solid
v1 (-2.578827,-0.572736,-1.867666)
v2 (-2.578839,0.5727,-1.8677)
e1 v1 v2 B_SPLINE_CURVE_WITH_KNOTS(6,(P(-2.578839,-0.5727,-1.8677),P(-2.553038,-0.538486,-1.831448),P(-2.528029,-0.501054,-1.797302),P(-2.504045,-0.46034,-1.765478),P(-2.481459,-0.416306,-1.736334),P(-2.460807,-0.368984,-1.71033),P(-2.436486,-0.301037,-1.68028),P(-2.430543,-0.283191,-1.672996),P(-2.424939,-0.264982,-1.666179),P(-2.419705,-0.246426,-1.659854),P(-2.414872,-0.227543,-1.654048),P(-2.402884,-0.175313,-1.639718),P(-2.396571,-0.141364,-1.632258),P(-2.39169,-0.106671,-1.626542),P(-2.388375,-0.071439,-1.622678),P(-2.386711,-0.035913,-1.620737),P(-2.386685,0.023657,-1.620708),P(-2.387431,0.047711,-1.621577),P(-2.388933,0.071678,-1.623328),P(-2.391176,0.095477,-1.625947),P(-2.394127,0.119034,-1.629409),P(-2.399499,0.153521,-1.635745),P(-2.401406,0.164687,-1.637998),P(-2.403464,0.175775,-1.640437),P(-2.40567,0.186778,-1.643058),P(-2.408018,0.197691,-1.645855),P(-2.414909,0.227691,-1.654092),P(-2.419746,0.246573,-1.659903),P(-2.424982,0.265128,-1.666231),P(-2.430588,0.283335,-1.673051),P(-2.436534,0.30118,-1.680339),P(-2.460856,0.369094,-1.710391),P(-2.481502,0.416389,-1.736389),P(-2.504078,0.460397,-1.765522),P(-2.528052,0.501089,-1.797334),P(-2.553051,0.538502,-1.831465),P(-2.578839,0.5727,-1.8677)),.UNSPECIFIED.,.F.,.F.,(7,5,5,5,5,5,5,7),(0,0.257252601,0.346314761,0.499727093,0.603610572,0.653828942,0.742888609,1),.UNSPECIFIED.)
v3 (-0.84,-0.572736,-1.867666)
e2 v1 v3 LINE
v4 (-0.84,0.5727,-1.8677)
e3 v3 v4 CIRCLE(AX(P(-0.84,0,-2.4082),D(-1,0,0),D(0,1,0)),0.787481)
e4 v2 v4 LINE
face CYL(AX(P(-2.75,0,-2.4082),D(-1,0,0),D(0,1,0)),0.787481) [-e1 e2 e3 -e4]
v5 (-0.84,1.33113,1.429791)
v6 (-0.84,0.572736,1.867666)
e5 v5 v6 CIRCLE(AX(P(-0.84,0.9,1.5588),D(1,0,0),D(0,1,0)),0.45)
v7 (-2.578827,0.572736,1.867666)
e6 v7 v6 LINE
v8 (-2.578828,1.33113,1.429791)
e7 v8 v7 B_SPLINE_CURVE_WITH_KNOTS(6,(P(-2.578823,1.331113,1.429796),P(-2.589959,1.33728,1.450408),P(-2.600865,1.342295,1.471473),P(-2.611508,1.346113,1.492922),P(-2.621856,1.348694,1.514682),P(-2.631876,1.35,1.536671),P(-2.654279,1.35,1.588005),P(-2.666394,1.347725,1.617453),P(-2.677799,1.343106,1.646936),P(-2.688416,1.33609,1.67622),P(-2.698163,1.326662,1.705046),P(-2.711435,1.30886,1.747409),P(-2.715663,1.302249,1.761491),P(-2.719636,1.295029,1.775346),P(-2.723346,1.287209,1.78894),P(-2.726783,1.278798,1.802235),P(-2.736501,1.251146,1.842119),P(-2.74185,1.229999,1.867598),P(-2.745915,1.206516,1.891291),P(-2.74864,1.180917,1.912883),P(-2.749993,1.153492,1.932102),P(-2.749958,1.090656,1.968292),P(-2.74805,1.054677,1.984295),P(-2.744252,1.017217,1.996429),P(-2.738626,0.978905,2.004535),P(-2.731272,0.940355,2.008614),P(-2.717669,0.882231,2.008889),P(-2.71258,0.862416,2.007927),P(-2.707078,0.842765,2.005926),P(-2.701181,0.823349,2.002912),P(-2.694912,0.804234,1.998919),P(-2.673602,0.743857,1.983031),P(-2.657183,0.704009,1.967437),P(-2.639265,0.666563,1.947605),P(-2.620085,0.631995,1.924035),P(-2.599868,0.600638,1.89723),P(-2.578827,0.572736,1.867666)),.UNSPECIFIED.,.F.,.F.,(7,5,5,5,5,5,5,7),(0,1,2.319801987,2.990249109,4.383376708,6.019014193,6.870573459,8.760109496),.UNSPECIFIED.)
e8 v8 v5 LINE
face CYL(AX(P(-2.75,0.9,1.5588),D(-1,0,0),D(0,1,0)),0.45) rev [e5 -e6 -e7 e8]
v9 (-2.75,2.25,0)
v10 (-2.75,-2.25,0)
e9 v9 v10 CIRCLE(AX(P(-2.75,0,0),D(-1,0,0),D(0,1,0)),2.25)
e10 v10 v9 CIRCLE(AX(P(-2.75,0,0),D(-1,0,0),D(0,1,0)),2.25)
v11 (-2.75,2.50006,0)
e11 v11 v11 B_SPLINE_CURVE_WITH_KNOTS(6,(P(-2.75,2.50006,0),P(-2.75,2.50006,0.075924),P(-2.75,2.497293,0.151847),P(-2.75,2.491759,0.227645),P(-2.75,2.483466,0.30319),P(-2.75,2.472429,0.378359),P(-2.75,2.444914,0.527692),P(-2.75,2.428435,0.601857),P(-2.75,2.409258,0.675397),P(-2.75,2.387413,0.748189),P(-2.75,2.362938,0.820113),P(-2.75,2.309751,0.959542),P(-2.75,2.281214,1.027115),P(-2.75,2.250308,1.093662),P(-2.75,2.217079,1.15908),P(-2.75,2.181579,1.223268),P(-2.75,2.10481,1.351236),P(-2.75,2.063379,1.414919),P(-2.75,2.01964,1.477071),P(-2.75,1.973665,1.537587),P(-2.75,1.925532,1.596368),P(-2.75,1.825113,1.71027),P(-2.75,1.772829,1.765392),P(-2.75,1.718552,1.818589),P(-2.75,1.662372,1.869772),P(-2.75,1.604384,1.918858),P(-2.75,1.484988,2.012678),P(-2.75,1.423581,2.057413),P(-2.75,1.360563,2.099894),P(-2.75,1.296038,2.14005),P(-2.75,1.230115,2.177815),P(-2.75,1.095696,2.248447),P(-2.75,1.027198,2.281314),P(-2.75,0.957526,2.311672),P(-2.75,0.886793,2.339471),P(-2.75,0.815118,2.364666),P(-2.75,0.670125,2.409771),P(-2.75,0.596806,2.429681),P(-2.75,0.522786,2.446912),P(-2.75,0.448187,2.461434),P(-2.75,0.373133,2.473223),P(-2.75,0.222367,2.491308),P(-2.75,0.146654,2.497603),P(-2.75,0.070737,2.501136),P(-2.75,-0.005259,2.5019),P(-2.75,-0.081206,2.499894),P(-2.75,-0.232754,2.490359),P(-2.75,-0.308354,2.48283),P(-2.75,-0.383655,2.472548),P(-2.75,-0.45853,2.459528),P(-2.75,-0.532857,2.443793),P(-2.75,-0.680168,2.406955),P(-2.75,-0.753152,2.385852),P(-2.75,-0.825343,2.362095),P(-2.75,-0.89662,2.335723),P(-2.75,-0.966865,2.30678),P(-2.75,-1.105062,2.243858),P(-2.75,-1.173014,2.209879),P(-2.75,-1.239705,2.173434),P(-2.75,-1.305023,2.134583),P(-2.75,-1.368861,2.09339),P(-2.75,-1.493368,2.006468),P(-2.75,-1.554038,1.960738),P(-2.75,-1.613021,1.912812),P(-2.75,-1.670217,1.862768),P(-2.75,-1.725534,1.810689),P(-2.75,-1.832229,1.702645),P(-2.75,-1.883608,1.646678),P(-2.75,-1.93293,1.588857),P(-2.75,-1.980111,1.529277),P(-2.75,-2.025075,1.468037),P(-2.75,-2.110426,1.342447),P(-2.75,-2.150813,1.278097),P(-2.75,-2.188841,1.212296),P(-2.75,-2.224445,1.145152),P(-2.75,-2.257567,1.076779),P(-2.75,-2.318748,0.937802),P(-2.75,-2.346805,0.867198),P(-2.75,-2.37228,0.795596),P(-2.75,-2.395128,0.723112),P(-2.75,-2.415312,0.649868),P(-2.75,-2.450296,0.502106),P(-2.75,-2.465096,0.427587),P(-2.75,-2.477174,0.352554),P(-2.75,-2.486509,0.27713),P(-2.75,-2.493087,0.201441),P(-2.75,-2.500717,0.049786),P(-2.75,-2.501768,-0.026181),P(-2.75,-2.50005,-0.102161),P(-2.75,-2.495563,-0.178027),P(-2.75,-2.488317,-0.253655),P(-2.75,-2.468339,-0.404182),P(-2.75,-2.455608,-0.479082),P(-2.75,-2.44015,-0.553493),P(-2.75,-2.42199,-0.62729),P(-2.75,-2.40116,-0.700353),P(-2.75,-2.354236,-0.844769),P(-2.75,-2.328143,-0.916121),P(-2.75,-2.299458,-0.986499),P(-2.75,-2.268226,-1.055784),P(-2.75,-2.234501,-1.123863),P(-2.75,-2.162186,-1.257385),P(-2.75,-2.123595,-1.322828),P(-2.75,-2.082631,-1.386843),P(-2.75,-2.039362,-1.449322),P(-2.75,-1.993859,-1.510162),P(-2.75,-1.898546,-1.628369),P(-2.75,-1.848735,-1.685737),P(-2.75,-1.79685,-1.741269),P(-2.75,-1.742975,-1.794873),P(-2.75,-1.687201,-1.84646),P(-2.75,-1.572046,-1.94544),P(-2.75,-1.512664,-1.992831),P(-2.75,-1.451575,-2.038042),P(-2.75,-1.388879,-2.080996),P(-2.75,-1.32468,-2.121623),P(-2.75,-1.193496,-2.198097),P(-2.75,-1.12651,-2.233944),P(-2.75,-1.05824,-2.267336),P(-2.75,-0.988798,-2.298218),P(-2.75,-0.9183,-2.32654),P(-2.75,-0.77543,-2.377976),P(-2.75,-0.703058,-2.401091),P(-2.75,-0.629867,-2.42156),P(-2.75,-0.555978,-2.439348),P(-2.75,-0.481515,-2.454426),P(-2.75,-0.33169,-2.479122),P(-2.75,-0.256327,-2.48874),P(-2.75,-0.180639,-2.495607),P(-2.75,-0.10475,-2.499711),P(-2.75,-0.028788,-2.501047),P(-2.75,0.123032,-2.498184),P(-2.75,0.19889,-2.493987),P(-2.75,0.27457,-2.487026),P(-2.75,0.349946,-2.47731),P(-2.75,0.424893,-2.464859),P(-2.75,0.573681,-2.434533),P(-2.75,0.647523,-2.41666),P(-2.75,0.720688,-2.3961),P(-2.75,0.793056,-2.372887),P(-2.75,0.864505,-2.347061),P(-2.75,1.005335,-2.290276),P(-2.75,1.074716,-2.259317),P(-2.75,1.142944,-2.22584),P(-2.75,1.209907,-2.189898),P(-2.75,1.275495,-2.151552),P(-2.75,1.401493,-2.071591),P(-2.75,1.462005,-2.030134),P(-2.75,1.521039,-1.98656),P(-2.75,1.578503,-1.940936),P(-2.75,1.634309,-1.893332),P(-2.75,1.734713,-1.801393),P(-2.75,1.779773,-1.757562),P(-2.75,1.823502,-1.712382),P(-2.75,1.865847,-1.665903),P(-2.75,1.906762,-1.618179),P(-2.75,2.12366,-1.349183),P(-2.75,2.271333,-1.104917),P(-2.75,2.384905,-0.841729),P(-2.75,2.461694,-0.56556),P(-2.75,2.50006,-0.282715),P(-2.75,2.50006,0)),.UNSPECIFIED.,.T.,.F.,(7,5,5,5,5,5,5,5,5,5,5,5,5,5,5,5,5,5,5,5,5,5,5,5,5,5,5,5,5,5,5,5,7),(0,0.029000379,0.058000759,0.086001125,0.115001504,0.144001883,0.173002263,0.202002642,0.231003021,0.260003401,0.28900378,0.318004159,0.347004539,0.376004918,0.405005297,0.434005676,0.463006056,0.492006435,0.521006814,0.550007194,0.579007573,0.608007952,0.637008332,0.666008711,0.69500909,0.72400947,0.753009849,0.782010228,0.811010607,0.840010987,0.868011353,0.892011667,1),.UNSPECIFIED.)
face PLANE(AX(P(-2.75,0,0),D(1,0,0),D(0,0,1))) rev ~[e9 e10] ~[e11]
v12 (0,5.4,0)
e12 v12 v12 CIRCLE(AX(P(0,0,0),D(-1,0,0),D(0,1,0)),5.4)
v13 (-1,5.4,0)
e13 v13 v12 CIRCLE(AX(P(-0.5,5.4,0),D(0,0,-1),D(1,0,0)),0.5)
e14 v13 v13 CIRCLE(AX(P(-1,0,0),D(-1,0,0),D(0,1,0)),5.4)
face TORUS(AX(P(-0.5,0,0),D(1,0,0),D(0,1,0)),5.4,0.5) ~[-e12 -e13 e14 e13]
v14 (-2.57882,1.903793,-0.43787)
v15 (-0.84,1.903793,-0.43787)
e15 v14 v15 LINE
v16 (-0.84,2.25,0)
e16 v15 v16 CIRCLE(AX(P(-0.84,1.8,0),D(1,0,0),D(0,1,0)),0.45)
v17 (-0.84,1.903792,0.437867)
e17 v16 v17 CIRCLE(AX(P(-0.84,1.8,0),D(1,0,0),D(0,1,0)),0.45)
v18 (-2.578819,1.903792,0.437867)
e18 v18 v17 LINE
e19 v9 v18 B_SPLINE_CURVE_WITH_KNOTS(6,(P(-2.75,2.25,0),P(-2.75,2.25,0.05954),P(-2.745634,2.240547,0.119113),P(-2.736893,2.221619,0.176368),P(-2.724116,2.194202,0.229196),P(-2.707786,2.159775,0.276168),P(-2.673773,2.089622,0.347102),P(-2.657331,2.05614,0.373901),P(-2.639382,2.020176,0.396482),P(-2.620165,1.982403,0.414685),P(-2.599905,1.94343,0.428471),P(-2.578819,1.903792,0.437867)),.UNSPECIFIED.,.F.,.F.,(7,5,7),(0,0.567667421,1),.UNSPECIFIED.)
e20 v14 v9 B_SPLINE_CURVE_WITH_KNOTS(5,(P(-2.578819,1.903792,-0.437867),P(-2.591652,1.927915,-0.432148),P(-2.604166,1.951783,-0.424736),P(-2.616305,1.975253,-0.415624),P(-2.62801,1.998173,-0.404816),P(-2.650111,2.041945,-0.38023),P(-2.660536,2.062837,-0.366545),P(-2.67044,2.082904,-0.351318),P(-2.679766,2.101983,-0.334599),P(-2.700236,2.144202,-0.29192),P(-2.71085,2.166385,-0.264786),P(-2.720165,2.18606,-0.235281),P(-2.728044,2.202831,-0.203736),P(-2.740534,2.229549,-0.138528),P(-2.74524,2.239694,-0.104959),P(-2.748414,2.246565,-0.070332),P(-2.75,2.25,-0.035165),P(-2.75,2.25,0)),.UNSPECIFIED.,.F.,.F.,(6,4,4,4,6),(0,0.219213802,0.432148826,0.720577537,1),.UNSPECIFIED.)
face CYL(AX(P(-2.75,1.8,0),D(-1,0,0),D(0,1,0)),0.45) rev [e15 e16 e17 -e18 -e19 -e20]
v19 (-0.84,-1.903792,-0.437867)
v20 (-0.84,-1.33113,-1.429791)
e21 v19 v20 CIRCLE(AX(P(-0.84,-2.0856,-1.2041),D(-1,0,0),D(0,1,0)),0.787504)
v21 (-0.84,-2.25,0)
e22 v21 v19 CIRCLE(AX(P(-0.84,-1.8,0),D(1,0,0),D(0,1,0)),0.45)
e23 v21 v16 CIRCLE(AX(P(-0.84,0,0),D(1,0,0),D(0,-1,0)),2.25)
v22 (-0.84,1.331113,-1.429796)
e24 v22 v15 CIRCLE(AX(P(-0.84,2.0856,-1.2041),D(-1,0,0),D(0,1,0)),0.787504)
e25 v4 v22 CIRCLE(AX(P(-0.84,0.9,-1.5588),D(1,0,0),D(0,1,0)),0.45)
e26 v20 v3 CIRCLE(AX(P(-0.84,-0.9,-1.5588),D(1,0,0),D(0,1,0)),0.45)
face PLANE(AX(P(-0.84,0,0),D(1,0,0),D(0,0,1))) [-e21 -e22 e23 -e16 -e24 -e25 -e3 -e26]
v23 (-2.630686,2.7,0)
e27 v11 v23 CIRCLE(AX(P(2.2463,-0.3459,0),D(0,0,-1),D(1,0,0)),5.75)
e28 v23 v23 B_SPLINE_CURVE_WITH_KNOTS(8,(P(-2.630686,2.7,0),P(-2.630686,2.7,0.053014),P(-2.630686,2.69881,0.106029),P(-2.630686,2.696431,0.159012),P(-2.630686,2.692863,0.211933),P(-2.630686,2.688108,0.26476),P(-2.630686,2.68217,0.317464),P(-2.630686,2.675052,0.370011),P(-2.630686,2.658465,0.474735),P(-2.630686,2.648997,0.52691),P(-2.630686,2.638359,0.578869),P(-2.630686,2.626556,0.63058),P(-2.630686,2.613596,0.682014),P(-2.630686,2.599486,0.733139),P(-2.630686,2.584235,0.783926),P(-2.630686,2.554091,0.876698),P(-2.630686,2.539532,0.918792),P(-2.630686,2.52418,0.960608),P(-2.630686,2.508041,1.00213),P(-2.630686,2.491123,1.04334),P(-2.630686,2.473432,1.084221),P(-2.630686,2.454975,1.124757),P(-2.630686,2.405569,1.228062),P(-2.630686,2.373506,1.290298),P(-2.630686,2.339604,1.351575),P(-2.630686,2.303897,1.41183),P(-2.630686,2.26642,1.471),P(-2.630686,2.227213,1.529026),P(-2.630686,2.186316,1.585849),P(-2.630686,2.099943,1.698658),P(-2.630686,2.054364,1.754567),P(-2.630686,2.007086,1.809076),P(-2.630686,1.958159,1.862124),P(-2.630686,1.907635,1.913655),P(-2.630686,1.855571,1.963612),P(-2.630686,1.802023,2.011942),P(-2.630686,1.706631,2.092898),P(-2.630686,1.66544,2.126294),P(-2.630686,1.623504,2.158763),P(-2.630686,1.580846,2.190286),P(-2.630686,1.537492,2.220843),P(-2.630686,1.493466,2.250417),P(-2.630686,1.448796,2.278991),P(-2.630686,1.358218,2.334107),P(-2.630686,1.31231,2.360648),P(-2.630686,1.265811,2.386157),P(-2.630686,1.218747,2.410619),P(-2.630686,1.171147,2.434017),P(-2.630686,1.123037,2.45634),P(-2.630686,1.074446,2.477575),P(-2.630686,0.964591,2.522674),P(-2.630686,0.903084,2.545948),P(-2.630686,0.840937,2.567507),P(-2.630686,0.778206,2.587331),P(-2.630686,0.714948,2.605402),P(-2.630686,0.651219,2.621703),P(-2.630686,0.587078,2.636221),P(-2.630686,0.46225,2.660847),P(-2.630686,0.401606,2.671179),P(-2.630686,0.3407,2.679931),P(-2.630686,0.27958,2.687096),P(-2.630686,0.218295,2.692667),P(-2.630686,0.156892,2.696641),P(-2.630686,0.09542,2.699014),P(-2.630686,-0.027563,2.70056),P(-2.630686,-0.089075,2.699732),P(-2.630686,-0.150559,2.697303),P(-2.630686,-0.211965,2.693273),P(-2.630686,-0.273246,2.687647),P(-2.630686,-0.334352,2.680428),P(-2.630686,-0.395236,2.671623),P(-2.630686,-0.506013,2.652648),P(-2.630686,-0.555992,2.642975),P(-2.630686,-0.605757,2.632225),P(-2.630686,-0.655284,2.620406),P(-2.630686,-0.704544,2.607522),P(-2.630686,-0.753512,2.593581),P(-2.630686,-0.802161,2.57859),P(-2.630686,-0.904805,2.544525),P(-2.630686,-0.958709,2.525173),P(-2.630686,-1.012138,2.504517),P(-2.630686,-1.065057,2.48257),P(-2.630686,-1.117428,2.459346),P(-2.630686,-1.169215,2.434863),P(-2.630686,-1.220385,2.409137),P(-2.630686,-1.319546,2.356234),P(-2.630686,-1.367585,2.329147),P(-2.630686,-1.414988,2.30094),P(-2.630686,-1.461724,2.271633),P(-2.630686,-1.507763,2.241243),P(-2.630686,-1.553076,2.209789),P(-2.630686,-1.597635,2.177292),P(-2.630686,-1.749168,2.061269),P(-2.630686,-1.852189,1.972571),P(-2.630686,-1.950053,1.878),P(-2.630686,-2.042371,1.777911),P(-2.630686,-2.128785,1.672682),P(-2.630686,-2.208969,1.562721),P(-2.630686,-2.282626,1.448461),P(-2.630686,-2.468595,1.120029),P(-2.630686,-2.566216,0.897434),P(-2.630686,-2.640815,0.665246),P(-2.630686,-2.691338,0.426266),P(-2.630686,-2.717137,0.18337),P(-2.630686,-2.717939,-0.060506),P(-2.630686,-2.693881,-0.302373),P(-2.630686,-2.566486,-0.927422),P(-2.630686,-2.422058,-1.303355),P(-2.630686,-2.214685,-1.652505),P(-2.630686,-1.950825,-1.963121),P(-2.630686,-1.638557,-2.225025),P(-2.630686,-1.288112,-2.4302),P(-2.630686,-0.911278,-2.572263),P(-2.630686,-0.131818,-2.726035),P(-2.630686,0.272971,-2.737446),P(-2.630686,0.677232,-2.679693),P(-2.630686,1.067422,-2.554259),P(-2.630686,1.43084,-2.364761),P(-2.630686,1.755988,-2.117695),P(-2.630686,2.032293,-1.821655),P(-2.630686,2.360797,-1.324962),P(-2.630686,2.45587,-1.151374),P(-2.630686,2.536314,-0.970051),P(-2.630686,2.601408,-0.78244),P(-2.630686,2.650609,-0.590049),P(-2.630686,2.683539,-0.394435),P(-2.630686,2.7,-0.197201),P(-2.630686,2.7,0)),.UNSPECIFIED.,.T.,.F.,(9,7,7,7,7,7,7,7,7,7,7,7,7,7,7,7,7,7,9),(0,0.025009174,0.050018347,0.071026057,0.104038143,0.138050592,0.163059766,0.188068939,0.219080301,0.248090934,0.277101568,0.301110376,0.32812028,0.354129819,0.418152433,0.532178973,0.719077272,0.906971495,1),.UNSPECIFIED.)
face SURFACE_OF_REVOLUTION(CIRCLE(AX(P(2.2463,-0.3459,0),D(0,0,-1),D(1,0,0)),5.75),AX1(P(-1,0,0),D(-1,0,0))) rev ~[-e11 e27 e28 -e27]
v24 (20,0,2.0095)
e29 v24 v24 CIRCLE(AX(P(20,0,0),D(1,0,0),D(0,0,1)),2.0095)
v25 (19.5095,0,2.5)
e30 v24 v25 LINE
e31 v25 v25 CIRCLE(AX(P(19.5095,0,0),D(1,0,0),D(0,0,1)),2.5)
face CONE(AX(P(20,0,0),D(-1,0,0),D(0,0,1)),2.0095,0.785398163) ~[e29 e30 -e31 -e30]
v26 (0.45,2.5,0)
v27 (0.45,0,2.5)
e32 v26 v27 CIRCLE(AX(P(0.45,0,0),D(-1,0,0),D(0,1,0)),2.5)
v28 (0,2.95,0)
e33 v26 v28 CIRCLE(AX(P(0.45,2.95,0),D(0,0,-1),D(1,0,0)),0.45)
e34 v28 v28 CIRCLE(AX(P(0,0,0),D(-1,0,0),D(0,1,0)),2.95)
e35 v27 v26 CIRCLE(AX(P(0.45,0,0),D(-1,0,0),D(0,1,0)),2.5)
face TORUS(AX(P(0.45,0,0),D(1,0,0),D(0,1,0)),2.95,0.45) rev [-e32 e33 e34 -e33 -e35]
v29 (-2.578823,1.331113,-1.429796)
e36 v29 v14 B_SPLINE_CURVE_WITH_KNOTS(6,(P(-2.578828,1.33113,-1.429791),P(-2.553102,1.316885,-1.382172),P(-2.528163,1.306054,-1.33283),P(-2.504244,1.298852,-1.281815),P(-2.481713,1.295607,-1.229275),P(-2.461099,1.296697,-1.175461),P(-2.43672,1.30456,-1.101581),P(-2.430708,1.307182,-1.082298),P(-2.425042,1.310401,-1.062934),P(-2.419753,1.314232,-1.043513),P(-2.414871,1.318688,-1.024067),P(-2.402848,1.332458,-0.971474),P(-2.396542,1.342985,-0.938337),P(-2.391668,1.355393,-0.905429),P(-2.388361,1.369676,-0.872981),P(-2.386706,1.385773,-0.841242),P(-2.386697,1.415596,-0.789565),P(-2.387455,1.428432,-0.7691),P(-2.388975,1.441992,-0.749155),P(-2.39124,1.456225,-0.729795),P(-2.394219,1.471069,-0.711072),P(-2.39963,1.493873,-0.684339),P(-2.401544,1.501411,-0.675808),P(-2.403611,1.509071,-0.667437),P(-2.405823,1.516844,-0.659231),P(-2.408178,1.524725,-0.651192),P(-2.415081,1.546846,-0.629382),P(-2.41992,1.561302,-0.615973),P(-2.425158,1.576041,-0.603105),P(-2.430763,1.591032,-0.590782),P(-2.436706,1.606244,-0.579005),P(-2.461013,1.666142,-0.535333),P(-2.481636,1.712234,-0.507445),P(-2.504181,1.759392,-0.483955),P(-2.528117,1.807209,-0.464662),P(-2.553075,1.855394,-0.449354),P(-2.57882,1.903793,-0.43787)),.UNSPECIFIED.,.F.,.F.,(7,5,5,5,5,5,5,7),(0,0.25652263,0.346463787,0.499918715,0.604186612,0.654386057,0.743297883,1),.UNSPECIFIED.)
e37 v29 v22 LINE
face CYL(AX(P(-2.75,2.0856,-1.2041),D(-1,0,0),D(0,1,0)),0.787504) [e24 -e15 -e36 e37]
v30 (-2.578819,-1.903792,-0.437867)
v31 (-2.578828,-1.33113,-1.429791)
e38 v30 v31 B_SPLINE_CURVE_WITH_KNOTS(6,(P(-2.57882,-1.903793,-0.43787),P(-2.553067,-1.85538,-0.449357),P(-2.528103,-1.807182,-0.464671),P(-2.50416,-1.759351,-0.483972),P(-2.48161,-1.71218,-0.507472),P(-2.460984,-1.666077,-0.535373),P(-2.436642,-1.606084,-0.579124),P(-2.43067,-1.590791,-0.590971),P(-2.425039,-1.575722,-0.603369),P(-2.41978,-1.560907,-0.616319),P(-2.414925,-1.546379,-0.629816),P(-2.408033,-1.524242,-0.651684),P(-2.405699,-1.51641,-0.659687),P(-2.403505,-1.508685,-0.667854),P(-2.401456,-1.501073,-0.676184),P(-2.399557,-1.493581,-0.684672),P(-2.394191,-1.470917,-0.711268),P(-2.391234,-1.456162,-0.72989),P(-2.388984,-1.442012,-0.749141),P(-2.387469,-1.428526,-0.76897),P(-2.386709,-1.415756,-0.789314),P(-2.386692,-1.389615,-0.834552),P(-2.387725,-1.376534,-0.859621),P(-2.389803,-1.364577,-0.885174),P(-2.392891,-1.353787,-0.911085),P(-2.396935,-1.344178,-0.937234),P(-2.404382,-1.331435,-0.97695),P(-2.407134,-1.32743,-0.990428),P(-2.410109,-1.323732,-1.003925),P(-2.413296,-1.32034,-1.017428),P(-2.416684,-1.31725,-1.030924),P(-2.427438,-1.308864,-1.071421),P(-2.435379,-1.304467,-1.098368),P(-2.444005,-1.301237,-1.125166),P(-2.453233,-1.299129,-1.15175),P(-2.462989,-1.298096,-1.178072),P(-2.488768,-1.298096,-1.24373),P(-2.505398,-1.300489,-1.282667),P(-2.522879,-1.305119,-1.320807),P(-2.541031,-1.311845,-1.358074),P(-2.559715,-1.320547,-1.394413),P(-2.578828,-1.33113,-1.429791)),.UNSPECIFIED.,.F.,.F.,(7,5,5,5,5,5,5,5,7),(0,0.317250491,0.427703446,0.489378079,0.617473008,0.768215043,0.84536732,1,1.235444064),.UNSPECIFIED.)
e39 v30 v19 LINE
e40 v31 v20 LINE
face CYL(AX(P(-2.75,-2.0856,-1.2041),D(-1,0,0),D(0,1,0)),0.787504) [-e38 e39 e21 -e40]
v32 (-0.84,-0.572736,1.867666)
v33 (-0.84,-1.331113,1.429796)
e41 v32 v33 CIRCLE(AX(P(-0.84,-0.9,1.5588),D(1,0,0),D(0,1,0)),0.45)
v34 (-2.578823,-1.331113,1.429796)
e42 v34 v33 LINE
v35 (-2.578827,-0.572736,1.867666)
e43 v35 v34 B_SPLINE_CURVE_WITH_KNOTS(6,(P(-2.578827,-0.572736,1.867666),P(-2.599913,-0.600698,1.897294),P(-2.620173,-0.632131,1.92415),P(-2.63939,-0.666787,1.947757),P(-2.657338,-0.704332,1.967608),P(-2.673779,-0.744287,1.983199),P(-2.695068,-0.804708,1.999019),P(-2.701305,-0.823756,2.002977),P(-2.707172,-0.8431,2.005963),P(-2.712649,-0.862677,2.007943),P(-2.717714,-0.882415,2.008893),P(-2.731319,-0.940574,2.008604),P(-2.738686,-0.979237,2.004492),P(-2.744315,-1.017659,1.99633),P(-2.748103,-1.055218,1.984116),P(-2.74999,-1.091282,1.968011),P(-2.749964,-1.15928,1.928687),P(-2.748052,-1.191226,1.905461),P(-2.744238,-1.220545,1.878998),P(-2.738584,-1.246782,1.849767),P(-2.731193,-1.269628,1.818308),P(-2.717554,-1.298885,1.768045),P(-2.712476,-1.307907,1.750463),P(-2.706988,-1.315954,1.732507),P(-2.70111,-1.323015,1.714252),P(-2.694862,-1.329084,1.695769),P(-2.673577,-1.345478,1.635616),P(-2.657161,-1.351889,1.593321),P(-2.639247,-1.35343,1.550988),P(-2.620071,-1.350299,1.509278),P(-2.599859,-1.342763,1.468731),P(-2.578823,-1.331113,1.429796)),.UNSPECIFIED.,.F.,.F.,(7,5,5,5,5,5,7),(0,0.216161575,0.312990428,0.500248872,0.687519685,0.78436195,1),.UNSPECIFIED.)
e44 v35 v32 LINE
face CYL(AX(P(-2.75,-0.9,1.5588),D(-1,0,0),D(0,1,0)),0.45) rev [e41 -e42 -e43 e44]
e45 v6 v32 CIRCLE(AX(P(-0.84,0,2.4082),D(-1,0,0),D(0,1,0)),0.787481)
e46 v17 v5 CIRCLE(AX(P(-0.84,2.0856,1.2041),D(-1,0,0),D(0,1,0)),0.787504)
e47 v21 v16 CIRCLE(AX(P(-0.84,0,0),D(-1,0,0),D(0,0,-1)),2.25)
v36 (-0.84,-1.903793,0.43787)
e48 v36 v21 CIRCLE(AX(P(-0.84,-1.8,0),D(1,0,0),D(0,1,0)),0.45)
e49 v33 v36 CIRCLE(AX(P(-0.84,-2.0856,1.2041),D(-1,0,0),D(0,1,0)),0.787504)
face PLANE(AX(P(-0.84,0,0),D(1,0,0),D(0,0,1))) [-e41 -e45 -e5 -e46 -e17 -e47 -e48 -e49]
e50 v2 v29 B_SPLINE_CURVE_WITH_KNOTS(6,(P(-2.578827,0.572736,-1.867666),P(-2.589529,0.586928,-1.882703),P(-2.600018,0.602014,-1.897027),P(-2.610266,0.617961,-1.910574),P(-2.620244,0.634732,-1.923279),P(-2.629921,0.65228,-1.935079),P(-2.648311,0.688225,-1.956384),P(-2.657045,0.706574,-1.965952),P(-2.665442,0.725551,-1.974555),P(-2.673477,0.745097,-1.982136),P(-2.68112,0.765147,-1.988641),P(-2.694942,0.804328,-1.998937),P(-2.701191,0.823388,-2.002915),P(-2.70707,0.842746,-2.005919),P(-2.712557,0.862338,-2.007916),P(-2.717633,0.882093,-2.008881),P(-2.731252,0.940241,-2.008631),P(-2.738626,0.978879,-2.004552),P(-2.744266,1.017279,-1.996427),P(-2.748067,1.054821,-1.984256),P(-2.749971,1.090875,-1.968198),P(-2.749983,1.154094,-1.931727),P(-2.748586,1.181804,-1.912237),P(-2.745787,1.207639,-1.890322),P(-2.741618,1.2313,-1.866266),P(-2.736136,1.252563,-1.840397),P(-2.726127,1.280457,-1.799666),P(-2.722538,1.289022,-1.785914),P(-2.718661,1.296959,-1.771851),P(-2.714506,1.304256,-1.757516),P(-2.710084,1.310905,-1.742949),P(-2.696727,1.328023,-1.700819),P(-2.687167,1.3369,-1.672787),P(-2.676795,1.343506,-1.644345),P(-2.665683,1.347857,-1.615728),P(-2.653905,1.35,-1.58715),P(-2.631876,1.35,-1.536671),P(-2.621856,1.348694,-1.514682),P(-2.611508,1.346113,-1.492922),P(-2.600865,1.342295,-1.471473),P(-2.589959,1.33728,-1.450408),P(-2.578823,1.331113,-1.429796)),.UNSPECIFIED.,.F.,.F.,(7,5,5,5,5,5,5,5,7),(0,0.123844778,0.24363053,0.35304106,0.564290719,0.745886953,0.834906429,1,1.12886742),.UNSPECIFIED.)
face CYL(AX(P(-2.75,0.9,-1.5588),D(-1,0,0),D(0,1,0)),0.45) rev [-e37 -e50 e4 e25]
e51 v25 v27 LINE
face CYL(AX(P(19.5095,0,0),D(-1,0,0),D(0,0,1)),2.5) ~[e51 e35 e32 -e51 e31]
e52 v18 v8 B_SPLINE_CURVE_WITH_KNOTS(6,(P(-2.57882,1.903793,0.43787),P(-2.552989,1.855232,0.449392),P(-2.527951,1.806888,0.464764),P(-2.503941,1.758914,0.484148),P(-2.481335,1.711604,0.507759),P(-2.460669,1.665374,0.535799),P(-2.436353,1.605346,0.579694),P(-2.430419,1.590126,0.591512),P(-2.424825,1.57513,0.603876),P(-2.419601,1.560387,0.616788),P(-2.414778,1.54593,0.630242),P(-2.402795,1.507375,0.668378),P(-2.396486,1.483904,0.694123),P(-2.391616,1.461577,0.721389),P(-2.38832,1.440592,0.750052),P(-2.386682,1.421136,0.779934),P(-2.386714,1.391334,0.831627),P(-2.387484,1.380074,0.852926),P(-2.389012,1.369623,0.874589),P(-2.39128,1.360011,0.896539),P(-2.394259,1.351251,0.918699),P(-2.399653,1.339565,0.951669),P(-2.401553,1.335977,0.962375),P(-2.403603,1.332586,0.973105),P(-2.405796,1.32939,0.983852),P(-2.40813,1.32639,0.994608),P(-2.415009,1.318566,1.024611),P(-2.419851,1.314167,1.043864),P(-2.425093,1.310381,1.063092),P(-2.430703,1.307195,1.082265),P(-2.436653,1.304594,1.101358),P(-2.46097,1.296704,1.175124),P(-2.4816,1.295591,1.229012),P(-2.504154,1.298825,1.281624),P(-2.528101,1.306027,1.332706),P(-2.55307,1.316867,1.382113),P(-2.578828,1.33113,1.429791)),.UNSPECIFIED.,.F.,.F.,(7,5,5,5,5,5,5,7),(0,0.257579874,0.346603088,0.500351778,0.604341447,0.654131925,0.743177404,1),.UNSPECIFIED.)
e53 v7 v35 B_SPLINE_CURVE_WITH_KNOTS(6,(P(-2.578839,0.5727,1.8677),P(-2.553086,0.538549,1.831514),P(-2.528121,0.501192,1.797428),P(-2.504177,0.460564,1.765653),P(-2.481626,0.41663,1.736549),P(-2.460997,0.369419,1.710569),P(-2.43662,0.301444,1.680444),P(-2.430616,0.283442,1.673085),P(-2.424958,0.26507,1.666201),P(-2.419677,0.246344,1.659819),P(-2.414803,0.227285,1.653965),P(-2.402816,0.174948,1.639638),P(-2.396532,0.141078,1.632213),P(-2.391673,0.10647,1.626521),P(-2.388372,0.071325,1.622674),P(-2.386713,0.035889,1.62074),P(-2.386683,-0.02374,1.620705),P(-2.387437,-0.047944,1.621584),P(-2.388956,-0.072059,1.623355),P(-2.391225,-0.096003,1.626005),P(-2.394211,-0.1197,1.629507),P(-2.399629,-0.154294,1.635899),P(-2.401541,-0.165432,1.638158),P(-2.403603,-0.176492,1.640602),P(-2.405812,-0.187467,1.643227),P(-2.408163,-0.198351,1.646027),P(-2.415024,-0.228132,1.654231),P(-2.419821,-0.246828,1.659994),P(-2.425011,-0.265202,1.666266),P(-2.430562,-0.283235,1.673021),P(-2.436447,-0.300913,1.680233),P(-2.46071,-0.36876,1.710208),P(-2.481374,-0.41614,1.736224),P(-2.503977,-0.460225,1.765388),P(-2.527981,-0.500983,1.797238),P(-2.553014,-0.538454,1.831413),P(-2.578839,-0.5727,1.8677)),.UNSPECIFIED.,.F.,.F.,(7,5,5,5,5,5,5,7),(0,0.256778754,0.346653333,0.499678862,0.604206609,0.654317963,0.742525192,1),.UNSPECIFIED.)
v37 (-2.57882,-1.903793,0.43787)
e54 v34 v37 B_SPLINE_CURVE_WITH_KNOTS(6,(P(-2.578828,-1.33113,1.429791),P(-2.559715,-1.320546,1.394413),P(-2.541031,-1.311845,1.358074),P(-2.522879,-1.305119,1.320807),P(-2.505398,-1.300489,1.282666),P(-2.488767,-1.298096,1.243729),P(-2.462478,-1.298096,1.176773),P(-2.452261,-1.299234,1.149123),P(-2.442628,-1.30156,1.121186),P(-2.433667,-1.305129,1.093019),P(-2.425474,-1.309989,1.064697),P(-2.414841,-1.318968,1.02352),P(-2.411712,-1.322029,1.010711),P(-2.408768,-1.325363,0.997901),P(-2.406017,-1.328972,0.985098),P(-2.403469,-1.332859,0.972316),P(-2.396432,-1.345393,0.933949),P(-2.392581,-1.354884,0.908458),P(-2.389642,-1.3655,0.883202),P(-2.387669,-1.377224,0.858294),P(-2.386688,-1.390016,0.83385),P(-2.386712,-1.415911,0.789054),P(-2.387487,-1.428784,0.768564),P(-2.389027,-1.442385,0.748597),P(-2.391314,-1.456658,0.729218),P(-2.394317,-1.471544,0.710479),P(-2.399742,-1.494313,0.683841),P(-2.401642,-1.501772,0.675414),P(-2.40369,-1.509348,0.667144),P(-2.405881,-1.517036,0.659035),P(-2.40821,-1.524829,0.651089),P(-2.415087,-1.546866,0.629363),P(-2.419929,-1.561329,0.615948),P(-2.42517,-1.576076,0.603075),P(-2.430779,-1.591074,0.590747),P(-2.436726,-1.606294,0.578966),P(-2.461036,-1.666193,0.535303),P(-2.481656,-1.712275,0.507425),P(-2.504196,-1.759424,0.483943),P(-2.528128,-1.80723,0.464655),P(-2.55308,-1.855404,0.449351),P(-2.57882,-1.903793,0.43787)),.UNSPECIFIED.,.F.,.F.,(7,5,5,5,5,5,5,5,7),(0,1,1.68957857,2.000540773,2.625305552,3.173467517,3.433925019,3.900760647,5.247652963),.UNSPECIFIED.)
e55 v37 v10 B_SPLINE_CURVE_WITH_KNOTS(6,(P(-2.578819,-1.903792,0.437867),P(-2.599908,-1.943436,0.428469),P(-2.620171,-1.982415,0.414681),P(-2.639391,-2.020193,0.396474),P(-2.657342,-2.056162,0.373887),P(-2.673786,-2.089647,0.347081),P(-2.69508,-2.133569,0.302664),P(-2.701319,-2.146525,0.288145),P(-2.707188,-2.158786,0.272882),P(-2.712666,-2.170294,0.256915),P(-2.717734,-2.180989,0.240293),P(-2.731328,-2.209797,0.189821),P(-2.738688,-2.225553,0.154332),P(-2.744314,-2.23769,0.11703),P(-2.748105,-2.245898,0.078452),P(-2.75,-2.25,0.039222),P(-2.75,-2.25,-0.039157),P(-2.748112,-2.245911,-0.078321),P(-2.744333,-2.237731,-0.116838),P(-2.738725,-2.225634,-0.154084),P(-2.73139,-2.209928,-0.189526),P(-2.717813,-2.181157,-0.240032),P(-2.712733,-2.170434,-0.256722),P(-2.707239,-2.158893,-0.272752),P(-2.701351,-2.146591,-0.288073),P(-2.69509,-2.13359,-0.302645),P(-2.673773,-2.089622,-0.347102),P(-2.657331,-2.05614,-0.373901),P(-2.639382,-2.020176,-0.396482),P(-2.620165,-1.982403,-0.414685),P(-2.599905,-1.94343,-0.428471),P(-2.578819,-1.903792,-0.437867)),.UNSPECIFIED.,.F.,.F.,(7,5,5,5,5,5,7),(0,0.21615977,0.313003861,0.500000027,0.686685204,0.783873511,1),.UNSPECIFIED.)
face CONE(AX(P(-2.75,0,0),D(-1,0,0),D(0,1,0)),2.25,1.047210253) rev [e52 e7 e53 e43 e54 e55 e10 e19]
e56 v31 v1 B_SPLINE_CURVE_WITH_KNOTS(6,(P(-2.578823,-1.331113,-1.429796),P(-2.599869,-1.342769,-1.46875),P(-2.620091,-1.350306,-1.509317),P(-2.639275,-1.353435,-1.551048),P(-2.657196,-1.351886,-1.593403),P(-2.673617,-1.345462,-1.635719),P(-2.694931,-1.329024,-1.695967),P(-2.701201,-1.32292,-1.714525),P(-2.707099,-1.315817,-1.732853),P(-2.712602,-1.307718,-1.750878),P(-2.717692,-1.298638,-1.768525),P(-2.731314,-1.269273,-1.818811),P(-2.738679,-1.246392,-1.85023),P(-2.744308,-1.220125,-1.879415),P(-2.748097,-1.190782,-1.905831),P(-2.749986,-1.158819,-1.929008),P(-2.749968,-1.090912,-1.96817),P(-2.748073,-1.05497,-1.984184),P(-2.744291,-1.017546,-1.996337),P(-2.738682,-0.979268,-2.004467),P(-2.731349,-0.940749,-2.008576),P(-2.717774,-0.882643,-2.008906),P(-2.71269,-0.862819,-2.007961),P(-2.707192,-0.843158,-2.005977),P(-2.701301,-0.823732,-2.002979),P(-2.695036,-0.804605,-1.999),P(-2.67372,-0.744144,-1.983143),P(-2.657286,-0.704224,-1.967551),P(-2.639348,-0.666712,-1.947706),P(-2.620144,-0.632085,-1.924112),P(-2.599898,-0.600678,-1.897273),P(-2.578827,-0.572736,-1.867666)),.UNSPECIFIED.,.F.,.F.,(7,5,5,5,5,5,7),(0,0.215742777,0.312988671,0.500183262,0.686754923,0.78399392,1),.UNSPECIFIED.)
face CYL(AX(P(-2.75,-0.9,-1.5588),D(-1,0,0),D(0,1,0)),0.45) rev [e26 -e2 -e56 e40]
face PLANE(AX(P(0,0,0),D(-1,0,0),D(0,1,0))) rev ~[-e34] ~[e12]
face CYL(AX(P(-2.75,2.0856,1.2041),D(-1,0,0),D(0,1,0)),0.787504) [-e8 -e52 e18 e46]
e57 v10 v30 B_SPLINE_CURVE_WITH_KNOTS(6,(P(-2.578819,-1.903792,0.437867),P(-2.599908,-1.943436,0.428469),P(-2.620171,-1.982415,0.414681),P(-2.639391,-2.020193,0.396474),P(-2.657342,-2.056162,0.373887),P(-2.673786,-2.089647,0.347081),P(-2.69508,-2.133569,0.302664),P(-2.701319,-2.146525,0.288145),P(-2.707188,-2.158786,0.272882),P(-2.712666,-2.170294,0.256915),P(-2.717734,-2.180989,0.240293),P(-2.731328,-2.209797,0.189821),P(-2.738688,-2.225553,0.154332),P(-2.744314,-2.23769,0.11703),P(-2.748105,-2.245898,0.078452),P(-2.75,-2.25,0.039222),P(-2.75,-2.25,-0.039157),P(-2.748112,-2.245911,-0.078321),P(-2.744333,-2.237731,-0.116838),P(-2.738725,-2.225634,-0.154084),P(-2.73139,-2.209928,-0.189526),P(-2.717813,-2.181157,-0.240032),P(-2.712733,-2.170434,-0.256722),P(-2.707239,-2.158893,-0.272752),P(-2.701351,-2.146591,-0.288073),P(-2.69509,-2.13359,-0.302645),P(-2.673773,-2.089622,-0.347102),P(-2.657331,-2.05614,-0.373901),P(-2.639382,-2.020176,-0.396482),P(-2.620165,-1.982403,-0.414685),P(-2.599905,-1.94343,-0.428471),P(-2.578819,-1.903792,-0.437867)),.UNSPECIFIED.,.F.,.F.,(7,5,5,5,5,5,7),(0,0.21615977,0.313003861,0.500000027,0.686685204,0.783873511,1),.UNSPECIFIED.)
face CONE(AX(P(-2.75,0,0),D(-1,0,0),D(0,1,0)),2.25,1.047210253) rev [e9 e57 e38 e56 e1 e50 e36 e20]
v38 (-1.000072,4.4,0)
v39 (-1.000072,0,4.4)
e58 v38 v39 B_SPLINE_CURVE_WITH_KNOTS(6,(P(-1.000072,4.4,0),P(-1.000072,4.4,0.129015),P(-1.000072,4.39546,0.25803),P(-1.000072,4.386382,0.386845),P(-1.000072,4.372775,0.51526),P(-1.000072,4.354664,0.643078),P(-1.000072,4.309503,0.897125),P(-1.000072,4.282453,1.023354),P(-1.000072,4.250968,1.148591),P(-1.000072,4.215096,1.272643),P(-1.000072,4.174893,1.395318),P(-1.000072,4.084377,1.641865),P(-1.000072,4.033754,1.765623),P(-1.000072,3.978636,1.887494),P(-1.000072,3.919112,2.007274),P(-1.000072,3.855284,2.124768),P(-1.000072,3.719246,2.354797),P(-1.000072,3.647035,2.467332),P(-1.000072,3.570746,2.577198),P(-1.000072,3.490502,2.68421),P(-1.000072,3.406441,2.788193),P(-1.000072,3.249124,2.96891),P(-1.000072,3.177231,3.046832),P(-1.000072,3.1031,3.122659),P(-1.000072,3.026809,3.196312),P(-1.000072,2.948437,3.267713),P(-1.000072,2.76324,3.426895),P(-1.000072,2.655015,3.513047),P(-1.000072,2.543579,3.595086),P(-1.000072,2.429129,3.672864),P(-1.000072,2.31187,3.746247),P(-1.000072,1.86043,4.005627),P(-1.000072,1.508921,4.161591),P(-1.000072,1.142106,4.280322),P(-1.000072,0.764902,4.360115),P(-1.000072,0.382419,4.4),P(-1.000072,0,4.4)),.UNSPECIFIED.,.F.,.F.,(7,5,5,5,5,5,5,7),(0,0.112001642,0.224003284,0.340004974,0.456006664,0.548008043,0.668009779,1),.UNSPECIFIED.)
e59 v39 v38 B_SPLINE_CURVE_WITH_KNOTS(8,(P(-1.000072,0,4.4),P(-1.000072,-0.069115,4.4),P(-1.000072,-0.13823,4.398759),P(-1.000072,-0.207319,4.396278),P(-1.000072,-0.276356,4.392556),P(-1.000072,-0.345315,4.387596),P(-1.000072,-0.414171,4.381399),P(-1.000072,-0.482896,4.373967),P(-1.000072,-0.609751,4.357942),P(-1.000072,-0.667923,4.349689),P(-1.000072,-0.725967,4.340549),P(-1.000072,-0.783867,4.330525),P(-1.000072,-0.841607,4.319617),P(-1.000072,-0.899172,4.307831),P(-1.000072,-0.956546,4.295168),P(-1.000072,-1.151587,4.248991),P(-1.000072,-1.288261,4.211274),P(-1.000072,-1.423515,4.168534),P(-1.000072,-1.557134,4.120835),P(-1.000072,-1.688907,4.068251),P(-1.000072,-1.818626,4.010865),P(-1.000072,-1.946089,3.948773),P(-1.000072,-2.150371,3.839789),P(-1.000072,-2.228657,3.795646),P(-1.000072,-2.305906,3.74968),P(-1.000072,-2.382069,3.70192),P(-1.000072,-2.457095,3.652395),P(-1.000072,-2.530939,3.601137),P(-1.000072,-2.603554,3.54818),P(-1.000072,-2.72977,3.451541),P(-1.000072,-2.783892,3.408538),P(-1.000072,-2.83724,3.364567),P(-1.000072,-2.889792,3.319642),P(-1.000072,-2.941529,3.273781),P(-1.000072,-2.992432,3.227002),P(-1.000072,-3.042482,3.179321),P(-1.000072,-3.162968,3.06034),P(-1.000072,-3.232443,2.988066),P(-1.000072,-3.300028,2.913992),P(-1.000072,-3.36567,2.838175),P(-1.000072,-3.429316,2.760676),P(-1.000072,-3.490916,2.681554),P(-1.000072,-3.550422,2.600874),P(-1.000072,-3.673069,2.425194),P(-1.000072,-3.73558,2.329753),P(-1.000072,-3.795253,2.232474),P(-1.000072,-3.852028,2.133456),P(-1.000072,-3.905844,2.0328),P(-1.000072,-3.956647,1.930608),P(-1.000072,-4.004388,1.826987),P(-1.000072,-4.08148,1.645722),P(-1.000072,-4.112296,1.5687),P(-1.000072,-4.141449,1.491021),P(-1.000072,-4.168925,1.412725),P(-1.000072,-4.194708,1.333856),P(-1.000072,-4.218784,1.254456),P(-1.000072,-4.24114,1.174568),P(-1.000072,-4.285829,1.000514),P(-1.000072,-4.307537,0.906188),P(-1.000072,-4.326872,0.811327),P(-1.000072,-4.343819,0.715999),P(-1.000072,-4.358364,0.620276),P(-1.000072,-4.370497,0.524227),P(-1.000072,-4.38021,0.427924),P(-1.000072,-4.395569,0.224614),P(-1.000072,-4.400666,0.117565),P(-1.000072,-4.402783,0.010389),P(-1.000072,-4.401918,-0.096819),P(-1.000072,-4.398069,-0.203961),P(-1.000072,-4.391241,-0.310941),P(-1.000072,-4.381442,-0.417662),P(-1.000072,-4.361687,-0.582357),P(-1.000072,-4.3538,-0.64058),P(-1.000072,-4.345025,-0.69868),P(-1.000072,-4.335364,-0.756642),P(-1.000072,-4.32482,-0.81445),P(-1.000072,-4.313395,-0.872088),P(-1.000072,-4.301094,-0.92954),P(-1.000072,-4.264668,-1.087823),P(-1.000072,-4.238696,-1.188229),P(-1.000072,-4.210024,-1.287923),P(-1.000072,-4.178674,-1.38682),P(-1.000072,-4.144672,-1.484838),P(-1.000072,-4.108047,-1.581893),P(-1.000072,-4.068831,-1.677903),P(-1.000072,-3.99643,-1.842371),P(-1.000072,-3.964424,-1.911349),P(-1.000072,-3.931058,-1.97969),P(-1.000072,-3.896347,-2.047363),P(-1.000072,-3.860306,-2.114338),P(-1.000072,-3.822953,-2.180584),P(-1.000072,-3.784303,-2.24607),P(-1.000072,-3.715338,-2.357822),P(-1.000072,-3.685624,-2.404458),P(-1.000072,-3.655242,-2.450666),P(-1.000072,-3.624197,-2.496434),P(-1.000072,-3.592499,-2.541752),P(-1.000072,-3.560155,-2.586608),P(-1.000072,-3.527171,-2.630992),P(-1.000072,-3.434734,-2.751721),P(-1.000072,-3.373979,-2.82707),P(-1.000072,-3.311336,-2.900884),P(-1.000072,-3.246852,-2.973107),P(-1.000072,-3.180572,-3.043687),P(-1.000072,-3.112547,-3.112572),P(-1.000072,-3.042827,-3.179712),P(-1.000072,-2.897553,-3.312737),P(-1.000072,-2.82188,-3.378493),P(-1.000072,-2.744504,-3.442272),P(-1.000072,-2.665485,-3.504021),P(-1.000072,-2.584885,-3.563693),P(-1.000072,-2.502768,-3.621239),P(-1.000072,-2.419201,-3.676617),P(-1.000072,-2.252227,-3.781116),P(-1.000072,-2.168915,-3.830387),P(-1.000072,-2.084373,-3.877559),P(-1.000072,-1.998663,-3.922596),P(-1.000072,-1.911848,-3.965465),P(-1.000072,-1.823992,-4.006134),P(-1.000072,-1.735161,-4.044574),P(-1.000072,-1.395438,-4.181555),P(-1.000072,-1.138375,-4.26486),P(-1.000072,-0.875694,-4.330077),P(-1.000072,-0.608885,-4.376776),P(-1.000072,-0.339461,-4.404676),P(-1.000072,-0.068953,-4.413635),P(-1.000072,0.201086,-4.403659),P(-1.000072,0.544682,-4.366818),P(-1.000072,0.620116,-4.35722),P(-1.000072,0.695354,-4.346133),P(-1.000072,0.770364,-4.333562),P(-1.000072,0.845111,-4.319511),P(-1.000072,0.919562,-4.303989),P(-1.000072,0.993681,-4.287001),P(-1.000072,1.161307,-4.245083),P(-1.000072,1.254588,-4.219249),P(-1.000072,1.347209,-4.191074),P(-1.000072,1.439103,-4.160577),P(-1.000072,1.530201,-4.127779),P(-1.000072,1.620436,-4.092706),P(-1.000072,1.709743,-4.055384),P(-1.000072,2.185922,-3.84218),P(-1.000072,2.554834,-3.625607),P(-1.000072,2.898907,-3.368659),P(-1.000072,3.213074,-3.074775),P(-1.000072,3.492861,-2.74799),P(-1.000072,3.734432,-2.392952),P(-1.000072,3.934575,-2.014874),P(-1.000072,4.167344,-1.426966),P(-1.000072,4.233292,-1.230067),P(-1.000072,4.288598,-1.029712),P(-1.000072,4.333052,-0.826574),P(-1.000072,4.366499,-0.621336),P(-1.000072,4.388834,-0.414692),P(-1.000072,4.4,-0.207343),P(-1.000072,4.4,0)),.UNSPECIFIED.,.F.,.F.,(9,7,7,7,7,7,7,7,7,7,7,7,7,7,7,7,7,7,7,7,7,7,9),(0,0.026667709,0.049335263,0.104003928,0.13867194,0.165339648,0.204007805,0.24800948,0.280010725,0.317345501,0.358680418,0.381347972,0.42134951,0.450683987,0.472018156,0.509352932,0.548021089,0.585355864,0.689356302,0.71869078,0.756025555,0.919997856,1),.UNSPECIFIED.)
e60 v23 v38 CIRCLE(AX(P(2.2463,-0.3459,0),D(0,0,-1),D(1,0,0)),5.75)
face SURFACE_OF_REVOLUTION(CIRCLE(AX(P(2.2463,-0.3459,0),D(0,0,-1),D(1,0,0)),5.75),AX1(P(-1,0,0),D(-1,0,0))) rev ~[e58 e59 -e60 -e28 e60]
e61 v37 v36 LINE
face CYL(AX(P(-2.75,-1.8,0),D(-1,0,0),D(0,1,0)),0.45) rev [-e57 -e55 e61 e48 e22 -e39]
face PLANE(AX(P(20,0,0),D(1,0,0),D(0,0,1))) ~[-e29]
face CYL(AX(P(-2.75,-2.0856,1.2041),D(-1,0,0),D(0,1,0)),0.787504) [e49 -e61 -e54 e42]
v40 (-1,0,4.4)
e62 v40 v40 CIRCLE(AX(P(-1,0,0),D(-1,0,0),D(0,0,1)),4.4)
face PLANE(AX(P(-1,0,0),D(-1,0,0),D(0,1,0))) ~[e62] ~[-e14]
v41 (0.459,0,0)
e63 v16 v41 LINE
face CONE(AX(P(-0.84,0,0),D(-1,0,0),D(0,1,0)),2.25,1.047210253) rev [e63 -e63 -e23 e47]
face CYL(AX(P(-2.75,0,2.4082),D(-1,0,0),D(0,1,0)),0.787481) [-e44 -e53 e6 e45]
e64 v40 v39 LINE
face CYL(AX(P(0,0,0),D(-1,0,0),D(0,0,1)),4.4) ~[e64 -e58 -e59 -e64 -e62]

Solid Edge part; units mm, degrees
sketch "Sketch1" plane through (0, 0, 0) normal (0, 0, 1) x (1, 0, 0)
  line L0 (-1, 0) -> (-1, 5.92)
  line L1 (-1, 5.92) -> (0, 5.92)
  line L2 (0, 5.92) -> (0, 0)
  line L3 (0, 0) -> (-1, 0)
revolve "RevolvedProtrusion1" add sketch "Sketch1" angle 360 about axis through (0, 0, 0) along (-1, 0, 0)
sketch "Sketch2" plane through (0, 0, 0) normal (0, 0, 1) x (1, 0, 0)
  line L0 (-2, 6.49) -> (-2, 5.4)
  line L1 (-2, 5.4) -> (-1, 5.4)
  arc A0 (-1, 5.4) -> (0, 5.4) centre (-0.5, 5.4) cw
  line L2 (0, 5.4) -> (1, 5.4)
  line L3 (1, 5.4) -> (1, 6.49)
  line L4 (1, 6.49) -> (-2, 6.49)
revolve "RevolvedCutout1" cut sketch "Sketch2" angle 360 about axis through (1, 0, 0) along (-1, 0, 0)
sketch "Sketch3" plane through (0, 0, 0) normal (0, -1, 0) x (1, 0, 0)
  line L0 (20, 0) -> (20, 2.0095)
  line L1 (20, 2.0095) -> (19.5095, 2.5)
  line L2 (19.5095, 2.5) -> (0, 2.5)
  line L3 (0, 2.5) -> (0, 4.4)
  line L4 (0, 4.4) -> (-2.75, 4.4)
  line L5 (-2.75, 4.4) -> (-2.75, 0)
  line L6 (-2.75, 0) -> (20, 0)
revolve "RevolvedProtrusion2" add sketch "Sketch3" angle 360 about axis through (-2.75, 0, 0) along (1, 0, 0)
cosmetic_thread "Thread1" size "M5"
sketch "Sketch4" plane through (0, 0, 0) normal (0, 0, 1) x (1, 0, 0)
  arc A0 (-2.75, 2.5) -> (-1, 4.4) centre (2.2463, -0.3459) cw
  line L0 (-1, 4.4) -> (-1, 8.8)
  line L1 (-1, 8.8) -> (-2.75, 8.8)
  line L2 (-2.75, 8.8) -> (-2.75, 2.5)
revolve "RevolvedCutout2" cut sketch "Sketch4" angle 360 about axis through (-1, 0, 0) along (-1, 0, 0)
sketch "Sketch5" plane through (0, 0, 0) normal (0, 0, 1) x (1, 0, 0)
  line L0 (-0.1, 2.95) -> (-0.1, 2.4)
  line L1 (-0.1, 2.4) -> (0.45, 2.4)
  line L2 (0.45, 2.4) -> (0.45, 2.5)
  arc A0 (0.45, 2.5) -> (0, 2.95) centre (0.45, 2.95) cw
  line L3 (0, 2.95) -> (-0.1, 2.95)
revolve "RevolvedProtrusion3" add sketch "Sketch5" angle 360 about axis through (0.45, 0, 0) along (-1, 0, 0)
hole "Bohrung_1" at (-0.84, 0, 0) direction (-1, 0, 0) diameter 4.5 depth 1.91
sketch "Sketch6" plane through (0, 0, 0) normal (0, 0, 1) x (1, 0, 0)
  line L0 (-0.84, 0) -> (-0.84, 2.25)
  line L1 (-0.84, 2.25) -> (0.459, 0)
  line L2 (0.459, 0) -> (-0.84, 0)
revolve "RevolvedCutout3" cut sketch "Sketch6" angle 360 about axis through (0.459, 0, 0) along (-1, 0, 0)
sketch "Sketch7" plane through (-2.75, 0, 0) normal (1, 0, 0) x (0, 1, 0)
  circle A0 centre (0, 0) radius 2.7
  arc A1 (-0.5727, 1.8677) -> (-1.3311, 1.4298) centre (-0.9, 1.5588) ccw
  arc A2 (-1.3311, 1.4298) -> (-1.9038, 0.4379) centre (-2.0856, 1.2041) cw
  arc A3 (-1.9038, 0.4379) -> (-1.9038, -0.4379) centre (-1.8, 0) ccw
  arc A4 (-1.9038, -0.4379) -> (-1.3311, -1.4298) centre (-2.0856, -1.2041) cw
  arc A5 (-1.3311, -1.4298) -> (-0.5727, -1.8677) centre (-0.9, -1.5588) ccw
  arc A6 (-0.5727, -1.8677) -> (0.5727, -1.8677) centre (0, -2.4082) cw
  arc A7 (0.5727, -1.8677) -> (1.3311, -1.4298) centre (0.9, -1.5588) ccw
  arc A8 (1.3311, -1.4298) -> (1.9038, -0.4379) centre (2.0856, -1.2041) cw
  arc A9 (1.9038, -0.4379) -> (1.9038, 0.4379) centre (1.8, 0) ccw
  arc A10 (1.9038, 0.4379) -> (1.3311, 1.4298) centre (2.0856, 1.2041) cw
  arc A11 (1.3311, 1.4298) -> (0.5727, 1.8677) centre (0.9, 1.5588) ccw
  arc A12 (0.5727, 1.8677) -> (-0.5727, 1.8677) centre (0, 2.4082) cw
extrude "Extrusionsausprägung_1" add sketch "Sketch7" along normal blind 1.91
sketch "Sketch8" plane through (0, 0, 0) normal (0, 0, 1) x (1, 0, 0)
  line L0 (-2.75, 0) -> (-2.75, 2.25)
  line L1 (-2.75, 2.25) -> (-1.451, 0)
  line L2 (-1.451, 0) -> (-2.75, 0)
revolve "RevolvedCutout4" cut sketch "Sketch8" angle 360 about axis through (-1.451, 0, 0) along (-1, 0, 0)
sketch "Sketch9" plane through (0, 0, 0) normal (0, 0, 1) x (1, 0, 0)
  arc A0 (-2.75, 2.5) -> (-1, 4.4) centre (2.2463, -0.3459) cw
  line L0 (-1, 4.4) -> (-1, 8.8)
  line L1 (-1, 8.8) -> (-2.75, 8.8)
  line L2 (-2.75, 8.8) -> (-2.75, 2.5)
revolve "RevolvedCutout5" cut sketch "Sketch9" angle 360 about axis through (-1, 0, 0) along (-1, 0, 0)
properties part number "Screw ISO ≈7380-2 M5x20x15.5 51041.050.020(High)" material "Steel"
